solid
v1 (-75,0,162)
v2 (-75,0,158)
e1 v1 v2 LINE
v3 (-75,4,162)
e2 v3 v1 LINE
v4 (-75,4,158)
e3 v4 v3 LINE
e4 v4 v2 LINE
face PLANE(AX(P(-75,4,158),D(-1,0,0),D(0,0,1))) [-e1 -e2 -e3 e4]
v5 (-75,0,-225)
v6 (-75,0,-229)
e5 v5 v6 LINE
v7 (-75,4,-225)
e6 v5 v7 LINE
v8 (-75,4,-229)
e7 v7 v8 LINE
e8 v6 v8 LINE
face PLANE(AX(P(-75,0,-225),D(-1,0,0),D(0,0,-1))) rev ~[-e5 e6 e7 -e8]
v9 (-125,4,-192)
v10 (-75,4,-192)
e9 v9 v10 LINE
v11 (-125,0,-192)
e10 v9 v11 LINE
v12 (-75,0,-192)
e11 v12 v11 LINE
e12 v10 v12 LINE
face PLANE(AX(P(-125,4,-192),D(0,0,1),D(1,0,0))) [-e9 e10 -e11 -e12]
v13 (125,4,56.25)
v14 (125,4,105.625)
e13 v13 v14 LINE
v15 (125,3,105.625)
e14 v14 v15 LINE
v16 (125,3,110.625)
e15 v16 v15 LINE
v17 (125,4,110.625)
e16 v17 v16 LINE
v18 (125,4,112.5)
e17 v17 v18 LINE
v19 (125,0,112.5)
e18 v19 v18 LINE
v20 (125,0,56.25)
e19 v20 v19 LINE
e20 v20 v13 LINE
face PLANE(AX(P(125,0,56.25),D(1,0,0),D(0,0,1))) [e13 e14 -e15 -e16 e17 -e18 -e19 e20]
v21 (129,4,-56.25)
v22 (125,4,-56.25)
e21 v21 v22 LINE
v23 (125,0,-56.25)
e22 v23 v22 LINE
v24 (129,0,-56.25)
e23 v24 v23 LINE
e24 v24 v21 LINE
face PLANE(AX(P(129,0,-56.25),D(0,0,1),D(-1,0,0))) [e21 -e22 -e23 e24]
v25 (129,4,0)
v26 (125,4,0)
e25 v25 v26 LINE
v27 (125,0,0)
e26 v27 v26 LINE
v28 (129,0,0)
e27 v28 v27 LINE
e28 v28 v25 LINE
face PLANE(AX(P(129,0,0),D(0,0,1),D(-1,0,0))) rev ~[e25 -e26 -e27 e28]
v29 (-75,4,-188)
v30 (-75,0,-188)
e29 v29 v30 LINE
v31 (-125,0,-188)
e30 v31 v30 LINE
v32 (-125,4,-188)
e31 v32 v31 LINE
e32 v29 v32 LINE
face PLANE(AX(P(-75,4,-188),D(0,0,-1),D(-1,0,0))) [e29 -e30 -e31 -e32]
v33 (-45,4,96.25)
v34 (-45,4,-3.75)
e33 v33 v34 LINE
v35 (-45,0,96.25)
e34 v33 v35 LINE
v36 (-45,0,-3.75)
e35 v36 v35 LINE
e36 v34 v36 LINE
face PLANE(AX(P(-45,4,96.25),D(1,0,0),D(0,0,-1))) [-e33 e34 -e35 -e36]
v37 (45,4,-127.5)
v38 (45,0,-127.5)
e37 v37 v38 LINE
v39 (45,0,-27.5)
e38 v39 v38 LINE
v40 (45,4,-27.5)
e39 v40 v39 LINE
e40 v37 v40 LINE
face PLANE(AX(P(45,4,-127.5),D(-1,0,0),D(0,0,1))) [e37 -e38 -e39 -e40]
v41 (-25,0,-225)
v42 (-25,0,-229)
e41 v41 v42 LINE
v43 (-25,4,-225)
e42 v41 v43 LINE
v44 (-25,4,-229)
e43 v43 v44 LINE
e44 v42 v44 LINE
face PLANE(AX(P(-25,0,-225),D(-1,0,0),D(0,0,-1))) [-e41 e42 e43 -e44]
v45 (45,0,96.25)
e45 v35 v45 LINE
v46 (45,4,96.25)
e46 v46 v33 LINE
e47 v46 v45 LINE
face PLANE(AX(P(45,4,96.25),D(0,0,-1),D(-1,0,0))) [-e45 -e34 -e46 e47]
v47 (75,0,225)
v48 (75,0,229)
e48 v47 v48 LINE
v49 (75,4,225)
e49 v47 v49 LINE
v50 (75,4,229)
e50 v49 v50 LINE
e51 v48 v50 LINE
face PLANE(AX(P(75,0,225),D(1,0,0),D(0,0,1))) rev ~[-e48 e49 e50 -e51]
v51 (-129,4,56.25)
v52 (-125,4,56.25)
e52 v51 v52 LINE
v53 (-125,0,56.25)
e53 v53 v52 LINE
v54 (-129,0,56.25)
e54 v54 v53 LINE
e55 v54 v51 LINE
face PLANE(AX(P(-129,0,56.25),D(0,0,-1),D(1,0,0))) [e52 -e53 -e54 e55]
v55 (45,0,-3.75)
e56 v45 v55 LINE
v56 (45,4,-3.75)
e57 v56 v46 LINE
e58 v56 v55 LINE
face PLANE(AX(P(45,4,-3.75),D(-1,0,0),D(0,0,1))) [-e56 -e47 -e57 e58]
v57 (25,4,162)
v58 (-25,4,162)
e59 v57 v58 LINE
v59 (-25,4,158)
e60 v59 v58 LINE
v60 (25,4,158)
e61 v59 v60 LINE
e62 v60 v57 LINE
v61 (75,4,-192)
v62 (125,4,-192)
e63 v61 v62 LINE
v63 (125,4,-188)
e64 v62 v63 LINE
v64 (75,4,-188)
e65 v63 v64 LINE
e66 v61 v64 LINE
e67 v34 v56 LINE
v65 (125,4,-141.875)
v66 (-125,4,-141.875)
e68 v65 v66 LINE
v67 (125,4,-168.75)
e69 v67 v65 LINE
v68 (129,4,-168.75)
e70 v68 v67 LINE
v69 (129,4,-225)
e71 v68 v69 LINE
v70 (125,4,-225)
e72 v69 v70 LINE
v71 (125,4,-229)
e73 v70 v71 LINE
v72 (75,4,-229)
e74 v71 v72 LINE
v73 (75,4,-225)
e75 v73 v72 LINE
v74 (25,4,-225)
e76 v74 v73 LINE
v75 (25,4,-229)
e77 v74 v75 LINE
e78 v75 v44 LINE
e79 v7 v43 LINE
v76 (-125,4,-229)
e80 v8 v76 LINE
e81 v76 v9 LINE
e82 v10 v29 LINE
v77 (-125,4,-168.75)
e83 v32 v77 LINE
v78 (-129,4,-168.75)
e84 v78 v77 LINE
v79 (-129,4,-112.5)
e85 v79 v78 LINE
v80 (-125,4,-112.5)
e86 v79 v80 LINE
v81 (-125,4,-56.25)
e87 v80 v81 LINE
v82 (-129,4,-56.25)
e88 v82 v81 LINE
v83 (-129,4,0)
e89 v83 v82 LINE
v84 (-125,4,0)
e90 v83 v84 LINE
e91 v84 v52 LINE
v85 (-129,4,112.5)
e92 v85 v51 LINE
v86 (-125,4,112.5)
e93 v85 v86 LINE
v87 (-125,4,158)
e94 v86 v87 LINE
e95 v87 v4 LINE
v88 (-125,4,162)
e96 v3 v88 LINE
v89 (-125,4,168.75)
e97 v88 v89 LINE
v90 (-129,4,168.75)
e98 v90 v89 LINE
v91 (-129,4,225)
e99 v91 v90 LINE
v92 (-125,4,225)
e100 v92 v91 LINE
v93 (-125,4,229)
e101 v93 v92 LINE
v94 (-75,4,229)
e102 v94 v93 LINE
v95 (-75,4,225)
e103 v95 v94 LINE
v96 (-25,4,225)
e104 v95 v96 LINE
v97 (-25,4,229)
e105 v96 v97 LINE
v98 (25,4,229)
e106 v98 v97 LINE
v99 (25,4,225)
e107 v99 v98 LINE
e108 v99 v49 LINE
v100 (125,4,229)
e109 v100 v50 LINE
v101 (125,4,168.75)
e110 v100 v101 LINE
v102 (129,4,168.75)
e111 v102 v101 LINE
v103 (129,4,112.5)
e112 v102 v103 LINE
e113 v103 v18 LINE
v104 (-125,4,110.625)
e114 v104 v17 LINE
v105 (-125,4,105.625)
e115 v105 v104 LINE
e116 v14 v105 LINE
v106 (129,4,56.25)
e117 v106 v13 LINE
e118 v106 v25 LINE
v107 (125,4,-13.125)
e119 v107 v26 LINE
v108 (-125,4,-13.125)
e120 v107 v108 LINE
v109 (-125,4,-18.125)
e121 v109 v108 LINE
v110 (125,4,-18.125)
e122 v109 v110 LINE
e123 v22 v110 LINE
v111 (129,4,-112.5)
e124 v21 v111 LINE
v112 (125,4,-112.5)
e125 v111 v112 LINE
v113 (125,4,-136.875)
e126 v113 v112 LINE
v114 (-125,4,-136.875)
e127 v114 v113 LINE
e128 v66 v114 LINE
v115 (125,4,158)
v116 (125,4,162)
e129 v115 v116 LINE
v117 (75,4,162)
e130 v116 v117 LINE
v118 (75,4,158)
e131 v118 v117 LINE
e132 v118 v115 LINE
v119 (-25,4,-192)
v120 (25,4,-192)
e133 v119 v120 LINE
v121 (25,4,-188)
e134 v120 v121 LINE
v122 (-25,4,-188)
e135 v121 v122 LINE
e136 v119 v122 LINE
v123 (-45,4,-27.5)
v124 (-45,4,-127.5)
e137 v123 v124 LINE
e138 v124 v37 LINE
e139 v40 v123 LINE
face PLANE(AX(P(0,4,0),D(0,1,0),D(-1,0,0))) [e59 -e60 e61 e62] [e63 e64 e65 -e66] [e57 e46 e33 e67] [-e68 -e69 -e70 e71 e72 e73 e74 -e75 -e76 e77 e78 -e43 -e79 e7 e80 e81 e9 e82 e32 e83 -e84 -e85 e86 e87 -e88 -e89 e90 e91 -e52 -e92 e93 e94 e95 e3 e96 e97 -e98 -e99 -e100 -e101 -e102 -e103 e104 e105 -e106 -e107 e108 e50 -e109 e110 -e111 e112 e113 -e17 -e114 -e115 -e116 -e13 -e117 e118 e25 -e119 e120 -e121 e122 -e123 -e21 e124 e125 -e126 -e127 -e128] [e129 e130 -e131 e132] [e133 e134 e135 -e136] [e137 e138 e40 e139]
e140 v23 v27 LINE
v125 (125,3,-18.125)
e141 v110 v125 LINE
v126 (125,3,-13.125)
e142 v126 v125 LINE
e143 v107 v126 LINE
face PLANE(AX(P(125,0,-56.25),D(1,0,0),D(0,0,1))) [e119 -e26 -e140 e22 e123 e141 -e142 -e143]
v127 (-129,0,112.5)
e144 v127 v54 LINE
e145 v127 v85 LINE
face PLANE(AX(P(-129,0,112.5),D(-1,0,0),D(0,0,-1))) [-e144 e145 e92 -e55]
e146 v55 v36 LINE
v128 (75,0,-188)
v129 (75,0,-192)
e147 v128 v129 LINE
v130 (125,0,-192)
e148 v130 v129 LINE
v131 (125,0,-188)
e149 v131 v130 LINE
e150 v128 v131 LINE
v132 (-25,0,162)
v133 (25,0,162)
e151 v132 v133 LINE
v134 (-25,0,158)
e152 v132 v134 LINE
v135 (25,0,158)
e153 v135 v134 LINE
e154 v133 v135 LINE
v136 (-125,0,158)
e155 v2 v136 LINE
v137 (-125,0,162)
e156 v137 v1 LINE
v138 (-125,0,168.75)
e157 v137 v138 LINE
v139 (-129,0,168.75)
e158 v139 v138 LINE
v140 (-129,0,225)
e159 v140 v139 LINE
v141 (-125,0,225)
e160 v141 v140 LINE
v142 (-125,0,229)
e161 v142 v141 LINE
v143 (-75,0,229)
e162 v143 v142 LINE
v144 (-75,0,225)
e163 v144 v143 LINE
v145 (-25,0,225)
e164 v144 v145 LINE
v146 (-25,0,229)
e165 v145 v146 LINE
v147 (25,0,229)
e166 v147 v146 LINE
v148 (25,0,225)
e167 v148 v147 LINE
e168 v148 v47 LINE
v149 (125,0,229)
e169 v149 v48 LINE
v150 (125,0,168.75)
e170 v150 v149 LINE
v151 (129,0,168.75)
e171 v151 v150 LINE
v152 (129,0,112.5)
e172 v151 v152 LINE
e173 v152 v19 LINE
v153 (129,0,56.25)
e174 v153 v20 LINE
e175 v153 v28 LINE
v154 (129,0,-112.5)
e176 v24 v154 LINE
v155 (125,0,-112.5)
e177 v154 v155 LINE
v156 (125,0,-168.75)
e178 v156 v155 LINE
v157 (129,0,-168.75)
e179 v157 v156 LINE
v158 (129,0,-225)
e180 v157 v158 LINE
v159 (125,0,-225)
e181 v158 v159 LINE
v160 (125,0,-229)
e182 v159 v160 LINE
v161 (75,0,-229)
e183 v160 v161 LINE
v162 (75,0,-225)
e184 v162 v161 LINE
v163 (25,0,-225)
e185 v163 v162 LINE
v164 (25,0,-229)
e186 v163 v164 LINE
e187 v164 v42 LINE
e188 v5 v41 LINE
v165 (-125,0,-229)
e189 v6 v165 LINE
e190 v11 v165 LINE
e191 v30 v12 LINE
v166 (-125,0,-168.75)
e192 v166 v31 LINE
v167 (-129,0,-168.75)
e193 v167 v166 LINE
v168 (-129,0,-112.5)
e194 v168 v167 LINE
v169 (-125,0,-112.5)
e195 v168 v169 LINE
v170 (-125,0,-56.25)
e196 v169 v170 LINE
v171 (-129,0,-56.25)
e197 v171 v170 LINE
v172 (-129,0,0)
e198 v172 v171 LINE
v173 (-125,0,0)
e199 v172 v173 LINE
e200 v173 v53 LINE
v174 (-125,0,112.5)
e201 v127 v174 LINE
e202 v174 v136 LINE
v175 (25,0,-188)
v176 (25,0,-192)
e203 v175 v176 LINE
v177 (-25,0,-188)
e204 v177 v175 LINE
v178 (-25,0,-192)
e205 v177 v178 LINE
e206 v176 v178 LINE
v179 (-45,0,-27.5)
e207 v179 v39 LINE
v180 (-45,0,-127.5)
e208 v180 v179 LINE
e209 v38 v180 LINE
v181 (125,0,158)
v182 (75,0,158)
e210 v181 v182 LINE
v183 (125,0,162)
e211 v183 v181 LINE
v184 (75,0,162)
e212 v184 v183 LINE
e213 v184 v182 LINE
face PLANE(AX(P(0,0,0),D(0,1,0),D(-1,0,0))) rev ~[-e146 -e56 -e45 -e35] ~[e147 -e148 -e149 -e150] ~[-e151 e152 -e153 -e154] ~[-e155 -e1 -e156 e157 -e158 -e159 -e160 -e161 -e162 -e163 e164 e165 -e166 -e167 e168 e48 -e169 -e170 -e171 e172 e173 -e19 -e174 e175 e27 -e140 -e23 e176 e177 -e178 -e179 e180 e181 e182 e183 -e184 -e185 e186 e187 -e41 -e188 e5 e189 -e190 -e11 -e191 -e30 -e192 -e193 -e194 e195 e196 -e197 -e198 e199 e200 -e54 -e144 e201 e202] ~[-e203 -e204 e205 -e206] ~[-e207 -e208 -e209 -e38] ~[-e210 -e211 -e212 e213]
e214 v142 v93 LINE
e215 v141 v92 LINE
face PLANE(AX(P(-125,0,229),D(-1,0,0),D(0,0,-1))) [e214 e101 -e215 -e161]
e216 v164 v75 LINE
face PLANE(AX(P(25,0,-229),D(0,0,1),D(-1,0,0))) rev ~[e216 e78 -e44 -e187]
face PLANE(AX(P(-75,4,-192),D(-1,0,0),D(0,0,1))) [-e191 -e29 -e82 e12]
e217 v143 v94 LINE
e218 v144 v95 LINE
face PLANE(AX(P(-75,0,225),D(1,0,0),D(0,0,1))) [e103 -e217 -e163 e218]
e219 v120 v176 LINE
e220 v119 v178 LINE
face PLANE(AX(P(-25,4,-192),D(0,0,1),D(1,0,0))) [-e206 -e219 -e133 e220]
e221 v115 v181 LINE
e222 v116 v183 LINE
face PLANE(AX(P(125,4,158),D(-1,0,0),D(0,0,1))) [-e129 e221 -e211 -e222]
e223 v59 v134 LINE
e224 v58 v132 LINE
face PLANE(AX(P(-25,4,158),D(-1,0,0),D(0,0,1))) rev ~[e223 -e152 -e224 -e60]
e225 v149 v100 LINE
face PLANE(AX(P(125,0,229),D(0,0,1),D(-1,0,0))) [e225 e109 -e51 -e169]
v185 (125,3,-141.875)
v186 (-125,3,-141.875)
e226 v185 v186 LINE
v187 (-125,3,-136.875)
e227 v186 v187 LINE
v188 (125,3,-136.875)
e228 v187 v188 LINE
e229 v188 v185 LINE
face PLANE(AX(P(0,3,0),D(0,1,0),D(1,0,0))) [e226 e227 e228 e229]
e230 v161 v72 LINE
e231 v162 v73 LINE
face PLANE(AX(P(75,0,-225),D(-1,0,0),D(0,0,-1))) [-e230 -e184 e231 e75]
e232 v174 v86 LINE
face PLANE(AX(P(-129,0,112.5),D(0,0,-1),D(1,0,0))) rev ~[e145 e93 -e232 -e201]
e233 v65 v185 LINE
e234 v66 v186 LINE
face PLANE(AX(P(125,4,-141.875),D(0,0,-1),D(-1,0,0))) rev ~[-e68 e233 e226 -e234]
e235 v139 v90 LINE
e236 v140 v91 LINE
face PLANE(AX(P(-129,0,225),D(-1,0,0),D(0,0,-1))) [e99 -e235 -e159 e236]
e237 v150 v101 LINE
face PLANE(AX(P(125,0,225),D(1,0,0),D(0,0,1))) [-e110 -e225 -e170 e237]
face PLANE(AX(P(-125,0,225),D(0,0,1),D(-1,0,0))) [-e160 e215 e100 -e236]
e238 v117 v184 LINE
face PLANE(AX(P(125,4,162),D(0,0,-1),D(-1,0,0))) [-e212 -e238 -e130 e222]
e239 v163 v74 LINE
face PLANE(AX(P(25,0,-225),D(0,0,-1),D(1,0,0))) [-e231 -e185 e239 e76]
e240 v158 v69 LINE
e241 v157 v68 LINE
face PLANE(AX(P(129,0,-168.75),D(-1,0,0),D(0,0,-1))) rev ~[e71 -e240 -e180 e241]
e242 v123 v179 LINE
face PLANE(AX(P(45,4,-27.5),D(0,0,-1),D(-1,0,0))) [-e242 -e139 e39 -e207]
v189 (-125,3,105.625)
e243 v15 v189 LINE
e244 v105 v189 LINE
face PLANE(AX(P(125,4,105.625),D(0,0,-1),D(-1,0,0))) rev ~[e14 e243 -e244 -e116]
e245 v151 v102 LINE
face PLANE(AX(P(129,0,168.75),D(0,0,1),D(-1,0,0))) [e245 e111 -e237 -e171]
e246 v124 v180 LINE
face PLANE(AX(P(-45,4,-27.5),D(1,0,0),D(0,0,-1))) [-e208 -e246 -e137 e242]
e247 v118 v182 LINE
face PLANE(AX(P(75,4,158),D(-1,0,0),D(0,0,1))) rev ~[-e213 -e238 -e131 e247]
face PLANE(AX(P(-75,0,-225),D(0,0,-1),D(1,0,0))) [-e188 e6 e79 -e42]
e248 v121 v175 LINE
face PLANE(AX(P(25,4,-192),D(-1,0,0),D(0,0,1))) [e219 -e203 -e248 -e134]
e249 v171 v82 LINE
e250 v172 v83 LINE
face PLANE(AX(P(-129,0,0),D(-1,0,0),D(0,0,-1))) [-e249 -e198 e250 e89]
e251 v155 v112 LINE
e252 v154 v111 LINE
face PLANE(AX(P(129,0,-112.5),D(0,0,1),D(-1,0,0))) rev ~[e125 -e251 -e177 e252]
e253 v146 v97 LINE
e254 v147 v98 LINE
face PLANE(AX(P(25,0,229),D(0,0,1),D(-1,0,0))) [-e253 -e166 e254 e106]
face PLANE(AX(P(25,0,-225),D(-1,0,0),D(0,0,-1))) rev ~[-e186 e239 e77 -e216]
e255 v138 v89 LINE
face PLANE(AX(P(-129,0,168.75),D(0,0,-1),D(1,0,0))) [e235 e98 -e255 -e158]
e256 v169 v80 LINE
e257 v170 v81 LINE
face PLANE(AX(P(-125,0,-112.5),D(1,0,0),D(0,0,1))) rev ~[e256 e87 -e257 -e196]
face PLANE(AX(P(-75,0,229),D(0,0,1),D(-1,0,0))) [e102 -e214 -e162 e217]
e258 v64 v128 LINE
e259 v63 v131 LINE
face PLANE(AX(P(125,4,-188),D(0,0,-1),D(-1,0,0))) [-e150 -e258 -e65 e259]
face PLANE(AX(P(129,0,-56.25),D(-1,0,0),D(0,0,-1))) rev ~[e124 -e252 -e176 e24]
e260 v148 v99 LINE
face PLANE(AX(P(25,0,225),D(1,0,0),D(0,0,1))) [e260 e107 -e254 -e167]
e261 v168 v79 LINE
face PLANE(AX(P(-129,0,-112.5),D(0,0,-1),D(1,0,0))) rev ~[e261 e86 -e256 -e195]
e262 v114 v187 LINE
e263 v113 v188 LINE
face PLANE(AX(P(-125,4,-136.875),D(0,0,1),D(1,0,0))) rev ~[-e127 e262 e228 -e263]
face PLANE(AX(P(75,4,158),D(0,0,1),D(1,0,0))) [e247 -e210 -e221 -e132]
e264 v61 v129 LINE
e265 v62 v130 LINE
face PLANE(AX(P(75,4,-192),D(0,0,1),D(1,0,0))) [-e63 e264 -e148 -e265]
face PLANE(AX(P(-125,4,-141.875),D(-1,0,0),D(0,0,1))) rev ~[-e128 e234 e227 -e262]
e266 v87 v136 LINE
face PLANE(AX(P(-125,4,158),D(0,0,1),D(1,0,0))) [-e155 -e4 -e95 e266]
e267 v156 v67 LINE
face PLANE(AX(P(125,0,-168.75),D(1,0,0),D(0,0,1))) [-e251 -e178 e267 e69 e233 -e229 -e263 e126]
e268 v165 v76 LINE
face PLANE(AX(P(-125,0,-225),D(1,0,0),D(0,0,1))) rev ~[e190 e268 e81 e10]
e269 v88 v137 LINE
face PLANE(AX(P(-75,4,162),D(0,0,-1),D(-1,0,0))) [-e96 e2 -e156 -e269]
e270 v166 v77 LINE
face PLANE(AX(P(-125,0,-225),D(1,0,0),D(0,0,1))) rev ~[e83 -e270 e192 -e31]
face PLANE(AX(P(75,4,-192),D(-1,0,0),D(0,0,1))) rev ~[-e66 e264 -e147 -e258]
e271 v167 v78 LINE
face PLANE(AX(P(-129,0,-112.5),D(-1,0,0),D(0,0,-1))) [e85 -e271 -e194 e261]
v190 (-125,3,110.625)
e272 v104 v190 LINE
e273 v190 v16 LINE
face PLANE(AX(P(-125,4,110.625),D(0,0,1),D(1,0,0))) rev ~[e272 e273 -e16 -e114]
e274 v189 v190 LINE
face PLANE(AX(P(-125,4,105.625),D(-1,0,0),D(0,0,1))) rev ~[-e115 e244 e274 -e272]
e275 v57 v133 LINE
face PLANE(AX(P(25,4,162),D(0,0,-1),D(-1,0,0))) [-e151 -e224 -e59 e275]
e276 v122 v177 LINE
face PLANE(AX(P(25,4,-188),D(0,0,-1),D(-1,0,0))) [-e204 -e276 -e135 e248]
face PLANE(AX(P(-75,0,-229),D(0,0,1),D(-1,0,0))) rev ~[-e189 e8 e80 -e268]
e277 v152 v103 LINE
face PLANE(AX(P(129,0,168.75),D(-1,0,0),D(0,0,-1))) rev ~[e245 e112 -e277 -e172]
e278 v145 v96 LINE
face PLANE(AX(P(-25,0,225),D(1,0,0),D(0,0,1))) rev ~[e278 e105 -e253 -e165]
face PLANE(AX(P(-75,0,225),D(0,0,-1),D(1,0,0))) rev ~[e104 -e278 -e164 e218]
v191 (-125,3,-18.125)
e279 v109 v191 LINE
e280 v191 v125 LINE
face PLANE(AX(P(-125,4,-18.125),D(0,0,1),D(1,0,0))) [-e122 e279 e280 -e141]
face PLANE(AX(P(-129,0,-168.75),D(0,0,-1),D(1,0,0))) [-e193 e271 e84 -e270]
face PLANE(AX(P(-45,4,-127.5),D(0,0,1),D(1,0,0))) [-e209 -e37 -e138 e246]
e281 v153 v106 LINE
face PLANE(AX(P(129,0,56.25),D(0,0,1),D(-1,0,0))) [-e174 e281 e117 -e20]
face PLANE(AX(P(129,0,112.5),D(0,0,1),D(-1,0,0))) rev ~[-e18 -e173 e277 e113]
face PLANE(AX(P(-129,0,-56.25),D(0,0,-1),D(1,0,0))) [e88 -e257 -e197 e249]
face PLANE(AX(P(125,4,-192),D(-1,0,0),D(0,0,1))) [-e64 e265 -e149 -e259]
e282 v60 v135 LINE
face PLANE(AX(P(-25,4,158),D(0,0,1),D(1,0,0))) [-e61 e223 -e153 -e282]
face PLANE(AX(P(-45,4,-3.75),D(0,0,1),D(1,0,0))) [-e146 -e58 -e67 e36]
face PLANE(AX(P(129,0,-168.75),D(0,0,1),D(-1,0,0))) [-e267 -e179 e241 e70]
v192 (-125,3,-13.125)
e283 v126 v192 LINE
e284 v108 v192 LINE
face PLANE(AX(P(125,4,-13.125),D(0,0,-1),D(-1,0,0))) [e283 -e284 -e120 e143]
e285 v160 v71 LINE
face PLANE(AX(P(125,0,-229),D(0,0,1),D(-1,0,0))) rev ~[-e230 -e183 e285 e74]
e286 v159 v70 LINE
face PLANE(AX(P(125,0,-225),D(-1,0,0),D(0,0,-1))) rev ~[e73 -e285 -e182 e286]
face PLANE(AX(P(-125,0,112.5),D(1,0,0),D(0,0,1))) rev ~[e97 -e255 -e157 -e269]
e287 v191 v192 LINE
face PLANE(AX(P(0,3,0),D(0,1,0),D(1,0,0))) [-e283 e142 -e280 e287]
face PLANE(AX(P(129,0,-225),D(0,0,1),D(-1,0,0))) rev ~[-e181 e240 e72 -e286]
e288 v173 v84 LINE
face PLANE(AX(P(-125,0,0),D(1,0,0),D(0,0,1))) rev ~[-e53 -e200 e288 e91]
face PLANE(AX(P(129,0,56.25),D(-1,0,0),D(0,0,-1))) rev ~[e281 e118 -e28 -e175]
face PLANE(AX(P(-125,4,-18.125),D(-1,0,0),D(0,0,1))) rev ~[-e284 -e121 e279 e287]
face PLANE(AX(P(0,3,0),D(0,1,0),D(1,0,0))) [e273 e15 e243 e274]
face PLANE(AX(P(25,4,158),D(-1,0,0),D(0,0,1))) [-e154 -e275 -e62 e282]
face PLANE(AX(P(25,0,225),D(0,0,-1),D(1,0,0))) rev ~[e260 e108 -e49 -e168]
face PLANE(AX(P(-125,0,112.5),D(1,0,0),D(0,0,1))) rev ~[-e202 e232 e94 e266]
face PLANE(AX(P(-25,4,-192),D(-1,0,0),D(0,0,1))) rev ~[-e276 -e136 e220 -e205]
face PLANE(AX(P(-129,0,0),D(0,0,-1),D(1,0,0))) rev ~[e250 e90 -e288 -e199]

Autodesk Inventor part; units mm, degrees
ref_plane "YZ Plane" through (0, 0, 0) normal (1, 0, 0) x (0, 1, 0)
ref_plane "XZ Plane" through (0, 0, 0) normal (0, 1, 0) x (-1, 0, 0)
ref_plane "XY Plane" through (0, 0, 0) normal (0, 0, 1) x (1, 0, 0)
sketch "Sketch1" plane through (0, 0, 0) normal (0, 1, 0) x (-1, 0, 0)
  line L0 (-125, 225) -> (125, 225) construction
  line L1 (125, 225) -> (125, -225) construction
  line L2 (125, -225) -> (-125, -225) construction
  line L3 (-125, -225) -> (-125, 225) construction
  line L4 (-125, 225) -> (125, -225) construction
  line L5 (125, 225) -> (-125, -225) construction
  line L6 (125, 225) -> (75, 225) construction
  line L7 (75, 225) -> (75, 229)
  line L8 (75, 229) -> (125, 229)
  line L9 (125, 229) -> (125, 225)
  line L10 (125, 225) -> (129, 225)
  line L11 (129, 225) -> (129, 168.75)
  line L12 (129, 168.75) -> (125, 168.75)
  line L13 (125, 168.75) -> (125, 225) construction
  line L14 (-125, 225) -> (-129, 225) construction
  line L15 (-129, 225) -> (-129, 168.75) construction
  line L16 (-129, 168.75) -> (-125, 168.75)
  line L17 (-125, 168.75) -> (-125, 225)
  line L18 (125, -225) -> (75, -225) construction
  line L19 (75, -225) -> (75, -229)
  line L20 (75, -229) -> (125, -229)
  line L21 (125, -229) -> (125, -225)
  line L22 (125, 112.5) -> (125, 168.75)
  line L23 (125, 168.75) -> (129, 168.75)
  line L24 (129, 112.5) -> (125, 112.5)
  line L25 (129, 168.75) -> (129, 112.5) construction
  line L26 (-125, 112.5) -> (-125, 168.75) construction
  line L27 (-125, 168.75) -> (-129, 168.75)
  line L28 (-129, 168.75) -> (-129, 112.5)
  line L29 (-129, 112.5) -> (-125, 112.5)
  line L30 (125, 56.25) -> (125, 112.5) construction
  line L31 (125, 112.5) -> (129, 112.5)
  line L32 (129, 56.25) -> (125, 56.25)
  line L33 (129, 112.5) -> (129, 56.25)
  line L34 (-125, 56.25) -> (-125, 112.5)
  line L35 (-125, 112.5) -> (-129, 112.5)
  line L36 (-129, 112.5) -> (-129, 56.25) construction
  line L37 (-129, 56.25) -> (-125, 56.25)
  line L38 (125, 0) -> (125, 56.25)
  line L39 (125, 56.25) -> (129, 56.25)
  line L40 (129, 0) -> (125, 0)
  line L41 (129, 56.25) -> (129, 0) construction
  line L42 (-125, 0) -> (-125, 56.25) construction
  line L43 (-125, 56.25) -> (-129, 56.25)
  line L44 (-129, 56.25) -> (-129, 0)
  line L45 (-129, 0) -> (-125, 0)
  line L46 (125, -56.25) -> (125, 0) construction
  line L47 (125, 0) -> (129, 0)
  line L48 (129, -56.25) -> (125, -56.25)
  line L49 (129, 0) -> (129, -56.25)
  line L50 (-125, -56.25) -> (-125, 0)
  line L51 (-125, 0) -> (-129, 0)
  line L52 (-129, 0) -> (-129, -56.25) construction
  line L53 (-129, -56.25) -> (-125, -56.25)
  line L54 (125, -112.5) -> (125, -56.25)
  line L55 (125, -56.25) -> (129, -56.25)
  line L56 (129, -112.5) -> (125, -112.5)
  line L57 (129, -56.25) -> (129, -112.5) construction
  line L58 (-125, -112.5) -> (-125, -56.25) construction
  line L59 (-125, -56.25) -> (-129, -56.25)
  line L60 (-129, -56.25) -> (-129, -112.5)
  line L61 (-129, -112.5) -> (-125, -112.5)
  line L62 (125, -168.75) -> (125, -112.5) construction
  line L63 (125, -112.5) -> (129, -112.5)
  line L64 (129, -168.75) -> (125, -168.75)
  line L65 (129, -112.5) -> (129, -168.75)
  line L66 (-125, -168.75) -> (-125, -112.5)
  line L67 (-125, -112.5) -> (-129, -112.5)
  line L68 (-129, -112.5) -> (-129, -168.75) construction
  line L69 (-129, -168.75) -> (-125, -168.75)
  line L70 (125, -225) -> (125, -168.75)
  line L71 (125, -168.75) -> (129, -168.75)
  line L72 (129, -225) -> (125, -225) construction
  line L73 (129, -168.75) -> (129, -225) construction
  line L74 (-125, -225) -> (-125, -168.75) construction
  line L75 (-125, -168.75) -> (-129, -168.75)
  line L76 (-129, -168.75) -> (-129, -225)
  line L77 (-129, -225) -> (-125, -225)
  line L78 (75, 229) -> (75, 225)
  line L79 (25, 225) -> (25, 229)
  line L80 (25, 229) -> (75, 229) construction
  line L81 (75, 225) -> (25, 225)
  line L82 (75, -225) -> (25, -225)
  line L83 (25, -225) -> (25, -229)
  line L84 (25, -229) -> (75, -229) construction
  line L85 (75, -229) -> (75, -225)
  line L86 (25, 229) -> (25, 225)
  line L87 (-25, 225) -> (-25, 229)
  line L88 (-25, 229) -> (25, 229)
  line L89 (25, 225) -> (-25, 225) construction
  line L90 (25, -225) -> (-25, -225) construction
  line L91 (-25, -225) -> (-25, -229)
  line L92 (-25, -229) -> (25, -229)
  line L93 (25, -229) -> (25, -225)
  line L94 (-25, 229) -> (-25, 225)
  line L95 (-75, 225) -> (-75, 229)
  line L96 (-75, 229) -> (-25, 229) construction
  line L97 (-25, 225) -> (-75, 225)
  line L98 (-25, -225) -> (-75, -225)
  line L99 (-75, -225) -> (-75, -229)
  line L100 (-75, -229) -> (-25, -229) construction
  line L101 (-25, -229) -> (-25, -225)
  line L102 (-75, 229) -> (-75, 225)
  line L103 (-125, 225) -> (-125, 229)
  line L104 (-125, 229) -> (-75, 229)
  line L105 (-75, 225) -> (-125, 225) construction
  line L106 (-75, -225) -> (-125, -225) construction
  line L107 (-125, -225) -> (-125, -229)
  line L108 (-125, -229) -> (-75, -229)
  line L109 (-75, -229) -> (-75, -225)
  point P0 (0, 0)
  point P1 (75, -225)
  point P2 (25, -225)
  point P3 (-25, -225)
  point P4 (-75, -225)
  point P5 (-129, 168.75)
  point P6 (-129, 56.25)
  point P7 (-129, -168.75)
  dimension "d0" = 250
  dimension "d1" = 450
  dimension "d2" = 50
  dimension "d3" = 4
  dimension "d4" = 4
  dimension "d5" = 56.25
  dimension "d6" = 4
  dimension "d7" = 56.25
  dimension "d8" = 50
  dimension "d9" = 4
  dimension "d12" = 56.25
  dimension "d19" = 50
extrude "Extrusion1" add sketch "Sketch1" along normal blind 4
sketch "Sketch2" plane through (0, 4, 0) normal (0, 1, 0) x (1, 0, 0)
  line L0 (-125, 112.5) -> (-125, 56.25) projected
  line L1 (129, 112.5) -> (125, 112.5) projected
  line L2 (-125, 112.5) -> (125, 112.5) construction
  line L3 (125, -112.5) -> (125, -56.25) projected
  line L4 (125, -56.25) -> (-125, -56.25) construction
  line L5 (-45, 127.5) -> (45, 127.5)
  line L6 (45, 127.5) -> (45, 27.5)
  line L7 (45, 27.5) -> (-45, 27.5)
  line L8 (-45, 27.5) -> (-45, 127.5)
  line L9 (-45, 127.5) -> (45, 27.5) construction
  line L10 (45, 127.5) -> (-45, 27.5) construction
  line L11 (45, -96.25) -> (-45, -96.25)
  line L12 (-45, -96.25) -> (-45, 3.75)
  line L13 (-45, 3.75) -> (45, 3.75)
  line L14 (45, 3.75) -> (45, -96.25)
  line L15 (45, -96.25) -> (-45, 3.75) construction
  line L16 (-45, -96.25) -> (45, 3.75) construction
  line L17 (25, 229) -> (-25, 229) projected
  point P0 (0, 0)
  point P1 (0, 77.5)
  point P2 (0, -46.25)
  point P3 (0, -46.25)
  point P4 (0, 77.5)
  point P5 (0, 77.5)
  point P6 (0, 229)
  point P7 (0, -46.25)
  dimension "d26" = 90
  dimension "d27" = 100
  dimension "d28" = 90
  dimension "d29" = 100
  dimension "d59" = 35
  dimension "d60" = 10
extrude "Extrusion2" cut sketch "Sketch2" against normal up to next
sketch "Sketch3" plane through (0, 4, 0) normal (0, 1, 0) x (1, 0, 0)
  line L0 (-129, 56.25) -> (-129, 0) projected
  line L1 (125, 0) -> (125, 56.25) projected
  line L2 (-129, 18.125) -> (125, 18.125)
  line L3 (125, 18.125) -> (125, 13.125)
  line L4 (125, 13.125) -> (-129, 13.125)
  line L5 (-129, 13.125) -> (-129, 18.125)
  line L6 (-128.3607, 15.625) -> (125.6393, 15.625) construction
  line L7 (-129, 18.125) -> (-125, 18.125)
  line L8 (-125, 18.125) -> (-125, 13.125)
  line L9 (-125, 13.125) -> (-129, 13.125)
  line L10 (-129, 13.125) -> (-129, 18.125)
  line L11 (-125, 0) -> (-125, -56.25) projected
  line L12 (45, 127.5) -> (45, 27.5) projected
  line L13 (45, 27.5) -> (-45, 27.5) projected
  line L14 (-45, 27.5) -> (-45, 127.5) projected
  line L15 (-45, 127.5) -> (45, 127.5) projected
  line L16 (-45, -96.25) -> (-45, 3.75) projected
  line L17 (-45, 3.75) -> (45, 3.75) projected
  line L18 (45, 3.75) -> (45, -96.25) projected
  line L19 (45, -96.25) -> (-45, -96.25) projected
  line L20 (-25, -225) -> (-25, -229) projected
  line L21 (-25, -229) -> (25, -229) projected
  line L22 (25, -229) -> (25, -225) projected
  line L23 (25, -225) -> (75, -225) projected
  line L24 (75, -225) -> (75, -229) projected
  line L25 (75, -229) -> (125, -229) projected
  line L26 (125, -229) -> (125, -168.75) projected
  line L27 (125, -168.75) -> (129, -168.75) projected
  line L28 (129, -168.75) -> (129, -112.5) projected
  line L29 (129, -112.5) -> (125, -112.5) projected
  line L30 (125, -112.5) -> (125, -56.25) projected
  line L31 (125, -56.25) -> (129, -56.25) projected
  line L32 (129, -56.25) -> (129, 0) projected
  line L33 (129, 0) -> (125, 0) projected
  line L34 (125, 0) -> (125, 56.25) projected
  line L35 (125, 56.25) -> (129, 56.25) projected
  line L36 (129, 56.25) -> (129, 112.5) projected
  line L37 (129, 112.5) -> (125, 112.5) projected
  line L38 (125, 112.5) -> (125, 168.75) projected
  line L39 (125, 168.75) -> (129, 168.75) projected
  line L40 (129, 168.75) -> (129, 225) projected
  line L41 (129, 225) -> (125, 225) projected
  line L42 (125, 225) -> (125, 229) projected
  line L43 (125, 229) -> (75, 229) projected
  line L44 (75, 229) -> (75, 225) projected
  line L45 (75, 225) -> (25, 225) projected
  line L46 (25, 225) -> (25, 229) projected
  line L47 (25, 229) -> (-25, 229) projected
  line L48 (-25, 229) -> (-25, 225) projected
  line L49 (-25, 225) -> (-75, 225) projected
  line L50 (-75, 225) -> (-75, 229) projected
  line L51 (-75, 229) -> (-125, 229) projected
  line L52 (-125, 229) -> (-125, 168.75) projected
  line L53 (-125, 168.75) -> (-129, 168.75) projected
  line L54 (-129, 168.75) -> (-129, 112.5) projected
  line L55 (-129, 112.5) -> (-125, 112.5) projected
  line L56 (-125, 112.5) -> (-125, 56.25) projected
  line L57 (-125, 56.25) -> (-129, 56.25) projected
  line L58 (-129, 56.25) -> (-129, 0) projected
  line L59 (-129, 0) -> (-125, 0) projected
  line L60 (-125, 0) -> (-125, -56.25) projected
  line L61 (-125, -56.25) -> (-129, -56.25) projected
  line L62 (-129, -56.25) -> (-129, -112.5) projected
  line L63 (-129, -112.5) -> (-125, -112.5) projected
  line L64 (-125, -112.5) -> (-125, -168.75) projected
  line L65 (-125, -168.75) -> (-129, -168.75) projected
  line L66 (-129, -168.75) -> (-129, -225) projected
  line L67 (-129, -225) -> (-125, -225) projected
  line L68 (-125, -225) -> (-125, -229) projected
  line L69 (-125, -229) -> (-75, -229) projected
  line L70 (-75, -229) -> (-75, -225) projected
  line L71 (-75, -225) -> (-25, -225) projected
  line L72 (-45, -96.25) -> (-45, 3.75) projected
  line L73 (-45, 27.5) -> (-45, 3.75) construction
  point P0 (0, 0)
  point P1 (125, 13.125)
  point P2 (-125, 15.625)
  point P3 (-45, 15.625)
  dimension "d32" = 5
extrude "Extrusion3" cut sketch "Sketch3" against normal blind 1 contours L2 L1 L4 L8
sketch "Sketch4" plane through (0, 4, 0) normal (0, 1, 0) x (1, 0, 0)
  line L0 (-125, -110.625) -> (125, -110.625)
  line L1 (125, -110.625) -> (125, -105.625)
  line L2 (125, -105.625) -> (-125, -105.625)
  line L3 (-125, -105.625) -> (-125, -110.625)
  line L4 (-125, -110.625) -> (125, -105.625) construction
  line L5 (125, -110.625) -> (-125, -105.625) construction
  line L6 (-125, -112.5) -> (-125, -168.75) projected
  line L7 (-125, -108.125) -> (125, -108.125) construction
  line L8 (129, -168.75) -> (129, -112.5) projected
  line L9 (129, 168.75) -> (129, 225) projected
  line L10 (129, 139.375) -> (-125, 139.375) construction
  line L11 (-125, 229) -> (-125, 168.75) projected
  line L12 (-125, 136.875) -> (125, 136.875)
  line L13 (125, 136.875) -> (125, 141.875)
  line L14 (125, 141.875) -> (-125, 141.875)
  line L15 (-125, 141.875) -> (-125, 136.875)
  line L16 (-125, 136.875) -> (125, 141.875) construction
  line L17 (125, 136.875) -> (-125, 141.875) construction
  line L18 (125, 112.5) -> (125, 168.75) projected
  line L19 (-125, 229) -> (-125, 168.75) projected
  line L20 (45, 3.75) -> (-45, 3.75) projected
  line L21 (-45, 3.75) -> (-45, 13.125) construction
  line L22 (125, 13.125) -> (-125, 13.125) projected
  line L23 (-125, 13.125) -> (-125, 18.125) projected
  line L24 (-125, 18.125) -> (125, 18.125) projected
  line L25 (125, 18.125) -> (125, 56.25) projected
  line L26 (125, 56.25) -> (129, 56.25) projected
  line L27 (129, 56.25) -> (129, 112.5) projected
  line L28 (129, 112.5) -> (125, 112.5) projected
  line L29 (125, 112.5) -> (125, 168.75) projected
  line L30 (125, 168.75) -> (129, 168.75) projected
  line L31 (129, 168.75) -> (129, 225) projected
  line L32 (129, 225) -> (125, 225) projected
  line L33 (125, 225) -> (125, 229) projected
  line L34 (125, 229) -> (75, 229) projected
  line L35 (75, 229) -> (75, 225) projected
  line L36 (75, 225) -> (25, 225) projected
  line L37 (25, 225) -> (25, 229) projected
  line L38 (25, 229) -> (-25, 229) projected
  line L39 (-25, 229) -> (-25, 225) projected
  line L40 (-25, 225) -> (-75, 225) projected
  line L41 (-75, 225) -> (-75, 229) projected
  line L42 (-75, 229) -> (-125, 229) projected
  line L43 (-125, 229) -> (-125, 168.75) projected
  line L44 (-125, 168.75) -> (-129, 168.75) projected
  line L45 (-129, 168.75) -> (-129, 112.5) projected
  line L46 (-129, 112.5) -> (-125, 112.5) projected
  line L47 (-125, 112.5) -> (-125, 56.25) projected
  line L48 (-125, 56.25) -> (-129, 56.25) projected
  line L49 (-129, 56.25) -> (-129, 0) projected
  line L50 (-129, 0) -> (-125, 0) projected
  line L51 (-125, 0) -> (-125, -56.25) projected
  line L52 (-125, -56.25) -> (-129, -56.25) projected
  line L53 (-129, -56.25) -> (-129, -112.5) projected
  line L54 (-129, -112.5) -> (-125, -112.5) projected
  line L55 (-125, -112.5) -> (-125, -168.75) projected
  line L56 (-125, -168.75) -> (-129, -168.75) projected
  line L57 (-129, -168.75) -> (-129, -225) projected
  line L58 (-129, -225) -> (-125, -225) projected
  line L59 (-125, -225) -> (-125, -229) projected
  line L60 (-125, -229) -> (-75, -229) projected
  line L61 (-75, -229) -> (-75, -225) projected
  line L62 (-75, -225) -> (-25, -225) projected
  line L63 (-25, -225) -> (-25, -229) projected
  line L64 (-25, -229) -> (25, -229) projected
  line L65 (25, -229) -> (25, -225) projected
  line L66 (25, -225) -> (75, -225) projected
  line L67 (75, -225) -> (75, -229) projected
  line L68 (75, -229) -> (125, -229) projected
  line L69 (125, -229) -> (125, -168.75) projected
  line L70 (125, -168.75) -> (129, -168.75) projected
  line L71 (129, -168.75) -> (129, -112.5) projected
  line L72 (129, -112.5) -> (125, -112.5) projected
  line L73 (125, -112.5) -> (125, -56.25) projected
  line L74 (125, -56.25) -> (129, -56.25) projected
  line L75 (129, -56.25) -> (129, 0) projected
  line L76 (129, 0) -> (125, 0) projected
  line L77 (125, 0) -> (125, 13.125) projected
  line L78 (-45, -96.25) -> (-45, 3.75) projected
  line L79 (-45, 3.75) -> (45, 3.75) projected
  line L80 (45, 3.75) -> (45, -96.25) projected
  line L81 (45, -96.25) -> (-45, -96.25) projected
  line L82 (45, 127.5) -> (45, 27.5) projected
  line L83 (45, 27.5) -> (-45, 27.5) projected
  line L84 (-45, 27.5) -> (-45, 127.5) projected
  line L85 (-45, 127.5) -> (45, 127.5) projected
  line L86 (-45, -96.25) -> (-45, 3.75) projected
  line L87 (-45, -96.25) -> (-45, -105.625) construction
  line L88 (125, 13.125) -> (-125, 13.125) projected
  line L89 (-45, 127.5) -> (-45, 27.5) projected
  line L90 (-45, 127.5) -> (-45, 136.875) construction
  point P0 (0, 0)
  point P1 (0, -108.125)
  point P2 (0, 139.375)
  point P3 (-125, 183.1313)
  point P4 (-125, 178.1313)
  dimension "d36" = 5
  dimension "d39" = 5
extrude "Extrusion4" cut sketch "Sketch4" against normal blind 1 contours L3 L2 L1 L0 | L12 L15 L14 L13
sketch "Sketch5" plane through (0, 4, 0) normal (0, 1, 0) x (1, 0, 0)
  line L0 (-125, -158) -> (-75, -158)
  line L1 (-75, -158) -> (-75, -162)
  line L2 (-75, -162) -> (-125, -162)
  line L3 (-125, -162) -> (-125, -158)
  line L4 (-75, -225) -> (-25, -225) projected
  line L5 (-125, -112.5) -> (-125, -168.75) projected
  line L6 (125, -110.625) -> (-125, -110.625) projected
  line L7 (-75, -158) -> (-25, -158)
  line L8 (-25, -158) -> (-25, -162)
  line L9 (-25, -162) -> (-75, -162)
  line L10 (-75, -162) -> (-75, -158)
  line L11 (-25, -158) -> (25, -158)
  line L12 (25, -158) -> (25, -162)
  line L13 (25, -162) -> (-25, -162)
  line L14 (-25, -162) -> (-25, -158)
  line L15 (25, -158) -> (75, -158)
  line L16 (75, -158) -> (75, -162)
  line L17 (75, -162) -> (25, -162)
  line L18 (25, -162) -> (25, -158)
  line L19 (75, -158) -> (125, -158)
  line L20 (125, -158) -> (125, -162)
  line L21 (125, -162) -> (75, -162)
  line L22 (75, -162) -> (75, -158)
  line L23 (-25, 188) -> (-75, 188)
  line L24 (-75, 192) -> (-25, 192)
  line L25 (-25, 192) -> (-25, 188)
  line L26 (-25, 188) -> (-25, 192)
  line L27 (25, 188) -> (-25, 188)
  line L28 (-25, 192) -> (25, 192)
  line L29 (25, 192) -> (25, 188)
  line L30 (25, 188) -> (25, 192)
  line L31 (25, 192) -> (75, 192)
  line L32 (75, 188) -> (25, 188)
  line L33 (-75, 192) -> (-75, 188)
  line L34 (-75, 188) -> (-75, 192)
  line L35 (-125, 192) -> (-75, 192)
  line L36 (-125, 188) -> (-125, 192)
  line L37 (-75, 188) -> (-125, 188)
  line L38 (75, 192) -> (75, 188)
  line L39 (75, 188) -> (75, 192)
  line L40 (75, 192) -> (125, 192)
  line L41 (125, 192) -> (125, 188)
  line L42 (125, 188) -> (75, 188)
  point P0 (0, 0)
  point P1 (125, -143.125)
  point P2 (-125, -110.625)
  dimension "d40" = 50
  dimension "d41" = 4
  dimension "d42" = 63
  dimension "d45" = 50
  dimension "d54" = 350
extrude "Extrusion5" cut sketch "Sketch5" against normal up to next contours L0 L1 L2 L3 | L11 L12 L13 L8 | L19 L20 L21 L16 | L25 L28 L29 L27 | L37 L36 L35 L33 | L38 L40 L41 L42
properties part number "DoorFront_V2"
